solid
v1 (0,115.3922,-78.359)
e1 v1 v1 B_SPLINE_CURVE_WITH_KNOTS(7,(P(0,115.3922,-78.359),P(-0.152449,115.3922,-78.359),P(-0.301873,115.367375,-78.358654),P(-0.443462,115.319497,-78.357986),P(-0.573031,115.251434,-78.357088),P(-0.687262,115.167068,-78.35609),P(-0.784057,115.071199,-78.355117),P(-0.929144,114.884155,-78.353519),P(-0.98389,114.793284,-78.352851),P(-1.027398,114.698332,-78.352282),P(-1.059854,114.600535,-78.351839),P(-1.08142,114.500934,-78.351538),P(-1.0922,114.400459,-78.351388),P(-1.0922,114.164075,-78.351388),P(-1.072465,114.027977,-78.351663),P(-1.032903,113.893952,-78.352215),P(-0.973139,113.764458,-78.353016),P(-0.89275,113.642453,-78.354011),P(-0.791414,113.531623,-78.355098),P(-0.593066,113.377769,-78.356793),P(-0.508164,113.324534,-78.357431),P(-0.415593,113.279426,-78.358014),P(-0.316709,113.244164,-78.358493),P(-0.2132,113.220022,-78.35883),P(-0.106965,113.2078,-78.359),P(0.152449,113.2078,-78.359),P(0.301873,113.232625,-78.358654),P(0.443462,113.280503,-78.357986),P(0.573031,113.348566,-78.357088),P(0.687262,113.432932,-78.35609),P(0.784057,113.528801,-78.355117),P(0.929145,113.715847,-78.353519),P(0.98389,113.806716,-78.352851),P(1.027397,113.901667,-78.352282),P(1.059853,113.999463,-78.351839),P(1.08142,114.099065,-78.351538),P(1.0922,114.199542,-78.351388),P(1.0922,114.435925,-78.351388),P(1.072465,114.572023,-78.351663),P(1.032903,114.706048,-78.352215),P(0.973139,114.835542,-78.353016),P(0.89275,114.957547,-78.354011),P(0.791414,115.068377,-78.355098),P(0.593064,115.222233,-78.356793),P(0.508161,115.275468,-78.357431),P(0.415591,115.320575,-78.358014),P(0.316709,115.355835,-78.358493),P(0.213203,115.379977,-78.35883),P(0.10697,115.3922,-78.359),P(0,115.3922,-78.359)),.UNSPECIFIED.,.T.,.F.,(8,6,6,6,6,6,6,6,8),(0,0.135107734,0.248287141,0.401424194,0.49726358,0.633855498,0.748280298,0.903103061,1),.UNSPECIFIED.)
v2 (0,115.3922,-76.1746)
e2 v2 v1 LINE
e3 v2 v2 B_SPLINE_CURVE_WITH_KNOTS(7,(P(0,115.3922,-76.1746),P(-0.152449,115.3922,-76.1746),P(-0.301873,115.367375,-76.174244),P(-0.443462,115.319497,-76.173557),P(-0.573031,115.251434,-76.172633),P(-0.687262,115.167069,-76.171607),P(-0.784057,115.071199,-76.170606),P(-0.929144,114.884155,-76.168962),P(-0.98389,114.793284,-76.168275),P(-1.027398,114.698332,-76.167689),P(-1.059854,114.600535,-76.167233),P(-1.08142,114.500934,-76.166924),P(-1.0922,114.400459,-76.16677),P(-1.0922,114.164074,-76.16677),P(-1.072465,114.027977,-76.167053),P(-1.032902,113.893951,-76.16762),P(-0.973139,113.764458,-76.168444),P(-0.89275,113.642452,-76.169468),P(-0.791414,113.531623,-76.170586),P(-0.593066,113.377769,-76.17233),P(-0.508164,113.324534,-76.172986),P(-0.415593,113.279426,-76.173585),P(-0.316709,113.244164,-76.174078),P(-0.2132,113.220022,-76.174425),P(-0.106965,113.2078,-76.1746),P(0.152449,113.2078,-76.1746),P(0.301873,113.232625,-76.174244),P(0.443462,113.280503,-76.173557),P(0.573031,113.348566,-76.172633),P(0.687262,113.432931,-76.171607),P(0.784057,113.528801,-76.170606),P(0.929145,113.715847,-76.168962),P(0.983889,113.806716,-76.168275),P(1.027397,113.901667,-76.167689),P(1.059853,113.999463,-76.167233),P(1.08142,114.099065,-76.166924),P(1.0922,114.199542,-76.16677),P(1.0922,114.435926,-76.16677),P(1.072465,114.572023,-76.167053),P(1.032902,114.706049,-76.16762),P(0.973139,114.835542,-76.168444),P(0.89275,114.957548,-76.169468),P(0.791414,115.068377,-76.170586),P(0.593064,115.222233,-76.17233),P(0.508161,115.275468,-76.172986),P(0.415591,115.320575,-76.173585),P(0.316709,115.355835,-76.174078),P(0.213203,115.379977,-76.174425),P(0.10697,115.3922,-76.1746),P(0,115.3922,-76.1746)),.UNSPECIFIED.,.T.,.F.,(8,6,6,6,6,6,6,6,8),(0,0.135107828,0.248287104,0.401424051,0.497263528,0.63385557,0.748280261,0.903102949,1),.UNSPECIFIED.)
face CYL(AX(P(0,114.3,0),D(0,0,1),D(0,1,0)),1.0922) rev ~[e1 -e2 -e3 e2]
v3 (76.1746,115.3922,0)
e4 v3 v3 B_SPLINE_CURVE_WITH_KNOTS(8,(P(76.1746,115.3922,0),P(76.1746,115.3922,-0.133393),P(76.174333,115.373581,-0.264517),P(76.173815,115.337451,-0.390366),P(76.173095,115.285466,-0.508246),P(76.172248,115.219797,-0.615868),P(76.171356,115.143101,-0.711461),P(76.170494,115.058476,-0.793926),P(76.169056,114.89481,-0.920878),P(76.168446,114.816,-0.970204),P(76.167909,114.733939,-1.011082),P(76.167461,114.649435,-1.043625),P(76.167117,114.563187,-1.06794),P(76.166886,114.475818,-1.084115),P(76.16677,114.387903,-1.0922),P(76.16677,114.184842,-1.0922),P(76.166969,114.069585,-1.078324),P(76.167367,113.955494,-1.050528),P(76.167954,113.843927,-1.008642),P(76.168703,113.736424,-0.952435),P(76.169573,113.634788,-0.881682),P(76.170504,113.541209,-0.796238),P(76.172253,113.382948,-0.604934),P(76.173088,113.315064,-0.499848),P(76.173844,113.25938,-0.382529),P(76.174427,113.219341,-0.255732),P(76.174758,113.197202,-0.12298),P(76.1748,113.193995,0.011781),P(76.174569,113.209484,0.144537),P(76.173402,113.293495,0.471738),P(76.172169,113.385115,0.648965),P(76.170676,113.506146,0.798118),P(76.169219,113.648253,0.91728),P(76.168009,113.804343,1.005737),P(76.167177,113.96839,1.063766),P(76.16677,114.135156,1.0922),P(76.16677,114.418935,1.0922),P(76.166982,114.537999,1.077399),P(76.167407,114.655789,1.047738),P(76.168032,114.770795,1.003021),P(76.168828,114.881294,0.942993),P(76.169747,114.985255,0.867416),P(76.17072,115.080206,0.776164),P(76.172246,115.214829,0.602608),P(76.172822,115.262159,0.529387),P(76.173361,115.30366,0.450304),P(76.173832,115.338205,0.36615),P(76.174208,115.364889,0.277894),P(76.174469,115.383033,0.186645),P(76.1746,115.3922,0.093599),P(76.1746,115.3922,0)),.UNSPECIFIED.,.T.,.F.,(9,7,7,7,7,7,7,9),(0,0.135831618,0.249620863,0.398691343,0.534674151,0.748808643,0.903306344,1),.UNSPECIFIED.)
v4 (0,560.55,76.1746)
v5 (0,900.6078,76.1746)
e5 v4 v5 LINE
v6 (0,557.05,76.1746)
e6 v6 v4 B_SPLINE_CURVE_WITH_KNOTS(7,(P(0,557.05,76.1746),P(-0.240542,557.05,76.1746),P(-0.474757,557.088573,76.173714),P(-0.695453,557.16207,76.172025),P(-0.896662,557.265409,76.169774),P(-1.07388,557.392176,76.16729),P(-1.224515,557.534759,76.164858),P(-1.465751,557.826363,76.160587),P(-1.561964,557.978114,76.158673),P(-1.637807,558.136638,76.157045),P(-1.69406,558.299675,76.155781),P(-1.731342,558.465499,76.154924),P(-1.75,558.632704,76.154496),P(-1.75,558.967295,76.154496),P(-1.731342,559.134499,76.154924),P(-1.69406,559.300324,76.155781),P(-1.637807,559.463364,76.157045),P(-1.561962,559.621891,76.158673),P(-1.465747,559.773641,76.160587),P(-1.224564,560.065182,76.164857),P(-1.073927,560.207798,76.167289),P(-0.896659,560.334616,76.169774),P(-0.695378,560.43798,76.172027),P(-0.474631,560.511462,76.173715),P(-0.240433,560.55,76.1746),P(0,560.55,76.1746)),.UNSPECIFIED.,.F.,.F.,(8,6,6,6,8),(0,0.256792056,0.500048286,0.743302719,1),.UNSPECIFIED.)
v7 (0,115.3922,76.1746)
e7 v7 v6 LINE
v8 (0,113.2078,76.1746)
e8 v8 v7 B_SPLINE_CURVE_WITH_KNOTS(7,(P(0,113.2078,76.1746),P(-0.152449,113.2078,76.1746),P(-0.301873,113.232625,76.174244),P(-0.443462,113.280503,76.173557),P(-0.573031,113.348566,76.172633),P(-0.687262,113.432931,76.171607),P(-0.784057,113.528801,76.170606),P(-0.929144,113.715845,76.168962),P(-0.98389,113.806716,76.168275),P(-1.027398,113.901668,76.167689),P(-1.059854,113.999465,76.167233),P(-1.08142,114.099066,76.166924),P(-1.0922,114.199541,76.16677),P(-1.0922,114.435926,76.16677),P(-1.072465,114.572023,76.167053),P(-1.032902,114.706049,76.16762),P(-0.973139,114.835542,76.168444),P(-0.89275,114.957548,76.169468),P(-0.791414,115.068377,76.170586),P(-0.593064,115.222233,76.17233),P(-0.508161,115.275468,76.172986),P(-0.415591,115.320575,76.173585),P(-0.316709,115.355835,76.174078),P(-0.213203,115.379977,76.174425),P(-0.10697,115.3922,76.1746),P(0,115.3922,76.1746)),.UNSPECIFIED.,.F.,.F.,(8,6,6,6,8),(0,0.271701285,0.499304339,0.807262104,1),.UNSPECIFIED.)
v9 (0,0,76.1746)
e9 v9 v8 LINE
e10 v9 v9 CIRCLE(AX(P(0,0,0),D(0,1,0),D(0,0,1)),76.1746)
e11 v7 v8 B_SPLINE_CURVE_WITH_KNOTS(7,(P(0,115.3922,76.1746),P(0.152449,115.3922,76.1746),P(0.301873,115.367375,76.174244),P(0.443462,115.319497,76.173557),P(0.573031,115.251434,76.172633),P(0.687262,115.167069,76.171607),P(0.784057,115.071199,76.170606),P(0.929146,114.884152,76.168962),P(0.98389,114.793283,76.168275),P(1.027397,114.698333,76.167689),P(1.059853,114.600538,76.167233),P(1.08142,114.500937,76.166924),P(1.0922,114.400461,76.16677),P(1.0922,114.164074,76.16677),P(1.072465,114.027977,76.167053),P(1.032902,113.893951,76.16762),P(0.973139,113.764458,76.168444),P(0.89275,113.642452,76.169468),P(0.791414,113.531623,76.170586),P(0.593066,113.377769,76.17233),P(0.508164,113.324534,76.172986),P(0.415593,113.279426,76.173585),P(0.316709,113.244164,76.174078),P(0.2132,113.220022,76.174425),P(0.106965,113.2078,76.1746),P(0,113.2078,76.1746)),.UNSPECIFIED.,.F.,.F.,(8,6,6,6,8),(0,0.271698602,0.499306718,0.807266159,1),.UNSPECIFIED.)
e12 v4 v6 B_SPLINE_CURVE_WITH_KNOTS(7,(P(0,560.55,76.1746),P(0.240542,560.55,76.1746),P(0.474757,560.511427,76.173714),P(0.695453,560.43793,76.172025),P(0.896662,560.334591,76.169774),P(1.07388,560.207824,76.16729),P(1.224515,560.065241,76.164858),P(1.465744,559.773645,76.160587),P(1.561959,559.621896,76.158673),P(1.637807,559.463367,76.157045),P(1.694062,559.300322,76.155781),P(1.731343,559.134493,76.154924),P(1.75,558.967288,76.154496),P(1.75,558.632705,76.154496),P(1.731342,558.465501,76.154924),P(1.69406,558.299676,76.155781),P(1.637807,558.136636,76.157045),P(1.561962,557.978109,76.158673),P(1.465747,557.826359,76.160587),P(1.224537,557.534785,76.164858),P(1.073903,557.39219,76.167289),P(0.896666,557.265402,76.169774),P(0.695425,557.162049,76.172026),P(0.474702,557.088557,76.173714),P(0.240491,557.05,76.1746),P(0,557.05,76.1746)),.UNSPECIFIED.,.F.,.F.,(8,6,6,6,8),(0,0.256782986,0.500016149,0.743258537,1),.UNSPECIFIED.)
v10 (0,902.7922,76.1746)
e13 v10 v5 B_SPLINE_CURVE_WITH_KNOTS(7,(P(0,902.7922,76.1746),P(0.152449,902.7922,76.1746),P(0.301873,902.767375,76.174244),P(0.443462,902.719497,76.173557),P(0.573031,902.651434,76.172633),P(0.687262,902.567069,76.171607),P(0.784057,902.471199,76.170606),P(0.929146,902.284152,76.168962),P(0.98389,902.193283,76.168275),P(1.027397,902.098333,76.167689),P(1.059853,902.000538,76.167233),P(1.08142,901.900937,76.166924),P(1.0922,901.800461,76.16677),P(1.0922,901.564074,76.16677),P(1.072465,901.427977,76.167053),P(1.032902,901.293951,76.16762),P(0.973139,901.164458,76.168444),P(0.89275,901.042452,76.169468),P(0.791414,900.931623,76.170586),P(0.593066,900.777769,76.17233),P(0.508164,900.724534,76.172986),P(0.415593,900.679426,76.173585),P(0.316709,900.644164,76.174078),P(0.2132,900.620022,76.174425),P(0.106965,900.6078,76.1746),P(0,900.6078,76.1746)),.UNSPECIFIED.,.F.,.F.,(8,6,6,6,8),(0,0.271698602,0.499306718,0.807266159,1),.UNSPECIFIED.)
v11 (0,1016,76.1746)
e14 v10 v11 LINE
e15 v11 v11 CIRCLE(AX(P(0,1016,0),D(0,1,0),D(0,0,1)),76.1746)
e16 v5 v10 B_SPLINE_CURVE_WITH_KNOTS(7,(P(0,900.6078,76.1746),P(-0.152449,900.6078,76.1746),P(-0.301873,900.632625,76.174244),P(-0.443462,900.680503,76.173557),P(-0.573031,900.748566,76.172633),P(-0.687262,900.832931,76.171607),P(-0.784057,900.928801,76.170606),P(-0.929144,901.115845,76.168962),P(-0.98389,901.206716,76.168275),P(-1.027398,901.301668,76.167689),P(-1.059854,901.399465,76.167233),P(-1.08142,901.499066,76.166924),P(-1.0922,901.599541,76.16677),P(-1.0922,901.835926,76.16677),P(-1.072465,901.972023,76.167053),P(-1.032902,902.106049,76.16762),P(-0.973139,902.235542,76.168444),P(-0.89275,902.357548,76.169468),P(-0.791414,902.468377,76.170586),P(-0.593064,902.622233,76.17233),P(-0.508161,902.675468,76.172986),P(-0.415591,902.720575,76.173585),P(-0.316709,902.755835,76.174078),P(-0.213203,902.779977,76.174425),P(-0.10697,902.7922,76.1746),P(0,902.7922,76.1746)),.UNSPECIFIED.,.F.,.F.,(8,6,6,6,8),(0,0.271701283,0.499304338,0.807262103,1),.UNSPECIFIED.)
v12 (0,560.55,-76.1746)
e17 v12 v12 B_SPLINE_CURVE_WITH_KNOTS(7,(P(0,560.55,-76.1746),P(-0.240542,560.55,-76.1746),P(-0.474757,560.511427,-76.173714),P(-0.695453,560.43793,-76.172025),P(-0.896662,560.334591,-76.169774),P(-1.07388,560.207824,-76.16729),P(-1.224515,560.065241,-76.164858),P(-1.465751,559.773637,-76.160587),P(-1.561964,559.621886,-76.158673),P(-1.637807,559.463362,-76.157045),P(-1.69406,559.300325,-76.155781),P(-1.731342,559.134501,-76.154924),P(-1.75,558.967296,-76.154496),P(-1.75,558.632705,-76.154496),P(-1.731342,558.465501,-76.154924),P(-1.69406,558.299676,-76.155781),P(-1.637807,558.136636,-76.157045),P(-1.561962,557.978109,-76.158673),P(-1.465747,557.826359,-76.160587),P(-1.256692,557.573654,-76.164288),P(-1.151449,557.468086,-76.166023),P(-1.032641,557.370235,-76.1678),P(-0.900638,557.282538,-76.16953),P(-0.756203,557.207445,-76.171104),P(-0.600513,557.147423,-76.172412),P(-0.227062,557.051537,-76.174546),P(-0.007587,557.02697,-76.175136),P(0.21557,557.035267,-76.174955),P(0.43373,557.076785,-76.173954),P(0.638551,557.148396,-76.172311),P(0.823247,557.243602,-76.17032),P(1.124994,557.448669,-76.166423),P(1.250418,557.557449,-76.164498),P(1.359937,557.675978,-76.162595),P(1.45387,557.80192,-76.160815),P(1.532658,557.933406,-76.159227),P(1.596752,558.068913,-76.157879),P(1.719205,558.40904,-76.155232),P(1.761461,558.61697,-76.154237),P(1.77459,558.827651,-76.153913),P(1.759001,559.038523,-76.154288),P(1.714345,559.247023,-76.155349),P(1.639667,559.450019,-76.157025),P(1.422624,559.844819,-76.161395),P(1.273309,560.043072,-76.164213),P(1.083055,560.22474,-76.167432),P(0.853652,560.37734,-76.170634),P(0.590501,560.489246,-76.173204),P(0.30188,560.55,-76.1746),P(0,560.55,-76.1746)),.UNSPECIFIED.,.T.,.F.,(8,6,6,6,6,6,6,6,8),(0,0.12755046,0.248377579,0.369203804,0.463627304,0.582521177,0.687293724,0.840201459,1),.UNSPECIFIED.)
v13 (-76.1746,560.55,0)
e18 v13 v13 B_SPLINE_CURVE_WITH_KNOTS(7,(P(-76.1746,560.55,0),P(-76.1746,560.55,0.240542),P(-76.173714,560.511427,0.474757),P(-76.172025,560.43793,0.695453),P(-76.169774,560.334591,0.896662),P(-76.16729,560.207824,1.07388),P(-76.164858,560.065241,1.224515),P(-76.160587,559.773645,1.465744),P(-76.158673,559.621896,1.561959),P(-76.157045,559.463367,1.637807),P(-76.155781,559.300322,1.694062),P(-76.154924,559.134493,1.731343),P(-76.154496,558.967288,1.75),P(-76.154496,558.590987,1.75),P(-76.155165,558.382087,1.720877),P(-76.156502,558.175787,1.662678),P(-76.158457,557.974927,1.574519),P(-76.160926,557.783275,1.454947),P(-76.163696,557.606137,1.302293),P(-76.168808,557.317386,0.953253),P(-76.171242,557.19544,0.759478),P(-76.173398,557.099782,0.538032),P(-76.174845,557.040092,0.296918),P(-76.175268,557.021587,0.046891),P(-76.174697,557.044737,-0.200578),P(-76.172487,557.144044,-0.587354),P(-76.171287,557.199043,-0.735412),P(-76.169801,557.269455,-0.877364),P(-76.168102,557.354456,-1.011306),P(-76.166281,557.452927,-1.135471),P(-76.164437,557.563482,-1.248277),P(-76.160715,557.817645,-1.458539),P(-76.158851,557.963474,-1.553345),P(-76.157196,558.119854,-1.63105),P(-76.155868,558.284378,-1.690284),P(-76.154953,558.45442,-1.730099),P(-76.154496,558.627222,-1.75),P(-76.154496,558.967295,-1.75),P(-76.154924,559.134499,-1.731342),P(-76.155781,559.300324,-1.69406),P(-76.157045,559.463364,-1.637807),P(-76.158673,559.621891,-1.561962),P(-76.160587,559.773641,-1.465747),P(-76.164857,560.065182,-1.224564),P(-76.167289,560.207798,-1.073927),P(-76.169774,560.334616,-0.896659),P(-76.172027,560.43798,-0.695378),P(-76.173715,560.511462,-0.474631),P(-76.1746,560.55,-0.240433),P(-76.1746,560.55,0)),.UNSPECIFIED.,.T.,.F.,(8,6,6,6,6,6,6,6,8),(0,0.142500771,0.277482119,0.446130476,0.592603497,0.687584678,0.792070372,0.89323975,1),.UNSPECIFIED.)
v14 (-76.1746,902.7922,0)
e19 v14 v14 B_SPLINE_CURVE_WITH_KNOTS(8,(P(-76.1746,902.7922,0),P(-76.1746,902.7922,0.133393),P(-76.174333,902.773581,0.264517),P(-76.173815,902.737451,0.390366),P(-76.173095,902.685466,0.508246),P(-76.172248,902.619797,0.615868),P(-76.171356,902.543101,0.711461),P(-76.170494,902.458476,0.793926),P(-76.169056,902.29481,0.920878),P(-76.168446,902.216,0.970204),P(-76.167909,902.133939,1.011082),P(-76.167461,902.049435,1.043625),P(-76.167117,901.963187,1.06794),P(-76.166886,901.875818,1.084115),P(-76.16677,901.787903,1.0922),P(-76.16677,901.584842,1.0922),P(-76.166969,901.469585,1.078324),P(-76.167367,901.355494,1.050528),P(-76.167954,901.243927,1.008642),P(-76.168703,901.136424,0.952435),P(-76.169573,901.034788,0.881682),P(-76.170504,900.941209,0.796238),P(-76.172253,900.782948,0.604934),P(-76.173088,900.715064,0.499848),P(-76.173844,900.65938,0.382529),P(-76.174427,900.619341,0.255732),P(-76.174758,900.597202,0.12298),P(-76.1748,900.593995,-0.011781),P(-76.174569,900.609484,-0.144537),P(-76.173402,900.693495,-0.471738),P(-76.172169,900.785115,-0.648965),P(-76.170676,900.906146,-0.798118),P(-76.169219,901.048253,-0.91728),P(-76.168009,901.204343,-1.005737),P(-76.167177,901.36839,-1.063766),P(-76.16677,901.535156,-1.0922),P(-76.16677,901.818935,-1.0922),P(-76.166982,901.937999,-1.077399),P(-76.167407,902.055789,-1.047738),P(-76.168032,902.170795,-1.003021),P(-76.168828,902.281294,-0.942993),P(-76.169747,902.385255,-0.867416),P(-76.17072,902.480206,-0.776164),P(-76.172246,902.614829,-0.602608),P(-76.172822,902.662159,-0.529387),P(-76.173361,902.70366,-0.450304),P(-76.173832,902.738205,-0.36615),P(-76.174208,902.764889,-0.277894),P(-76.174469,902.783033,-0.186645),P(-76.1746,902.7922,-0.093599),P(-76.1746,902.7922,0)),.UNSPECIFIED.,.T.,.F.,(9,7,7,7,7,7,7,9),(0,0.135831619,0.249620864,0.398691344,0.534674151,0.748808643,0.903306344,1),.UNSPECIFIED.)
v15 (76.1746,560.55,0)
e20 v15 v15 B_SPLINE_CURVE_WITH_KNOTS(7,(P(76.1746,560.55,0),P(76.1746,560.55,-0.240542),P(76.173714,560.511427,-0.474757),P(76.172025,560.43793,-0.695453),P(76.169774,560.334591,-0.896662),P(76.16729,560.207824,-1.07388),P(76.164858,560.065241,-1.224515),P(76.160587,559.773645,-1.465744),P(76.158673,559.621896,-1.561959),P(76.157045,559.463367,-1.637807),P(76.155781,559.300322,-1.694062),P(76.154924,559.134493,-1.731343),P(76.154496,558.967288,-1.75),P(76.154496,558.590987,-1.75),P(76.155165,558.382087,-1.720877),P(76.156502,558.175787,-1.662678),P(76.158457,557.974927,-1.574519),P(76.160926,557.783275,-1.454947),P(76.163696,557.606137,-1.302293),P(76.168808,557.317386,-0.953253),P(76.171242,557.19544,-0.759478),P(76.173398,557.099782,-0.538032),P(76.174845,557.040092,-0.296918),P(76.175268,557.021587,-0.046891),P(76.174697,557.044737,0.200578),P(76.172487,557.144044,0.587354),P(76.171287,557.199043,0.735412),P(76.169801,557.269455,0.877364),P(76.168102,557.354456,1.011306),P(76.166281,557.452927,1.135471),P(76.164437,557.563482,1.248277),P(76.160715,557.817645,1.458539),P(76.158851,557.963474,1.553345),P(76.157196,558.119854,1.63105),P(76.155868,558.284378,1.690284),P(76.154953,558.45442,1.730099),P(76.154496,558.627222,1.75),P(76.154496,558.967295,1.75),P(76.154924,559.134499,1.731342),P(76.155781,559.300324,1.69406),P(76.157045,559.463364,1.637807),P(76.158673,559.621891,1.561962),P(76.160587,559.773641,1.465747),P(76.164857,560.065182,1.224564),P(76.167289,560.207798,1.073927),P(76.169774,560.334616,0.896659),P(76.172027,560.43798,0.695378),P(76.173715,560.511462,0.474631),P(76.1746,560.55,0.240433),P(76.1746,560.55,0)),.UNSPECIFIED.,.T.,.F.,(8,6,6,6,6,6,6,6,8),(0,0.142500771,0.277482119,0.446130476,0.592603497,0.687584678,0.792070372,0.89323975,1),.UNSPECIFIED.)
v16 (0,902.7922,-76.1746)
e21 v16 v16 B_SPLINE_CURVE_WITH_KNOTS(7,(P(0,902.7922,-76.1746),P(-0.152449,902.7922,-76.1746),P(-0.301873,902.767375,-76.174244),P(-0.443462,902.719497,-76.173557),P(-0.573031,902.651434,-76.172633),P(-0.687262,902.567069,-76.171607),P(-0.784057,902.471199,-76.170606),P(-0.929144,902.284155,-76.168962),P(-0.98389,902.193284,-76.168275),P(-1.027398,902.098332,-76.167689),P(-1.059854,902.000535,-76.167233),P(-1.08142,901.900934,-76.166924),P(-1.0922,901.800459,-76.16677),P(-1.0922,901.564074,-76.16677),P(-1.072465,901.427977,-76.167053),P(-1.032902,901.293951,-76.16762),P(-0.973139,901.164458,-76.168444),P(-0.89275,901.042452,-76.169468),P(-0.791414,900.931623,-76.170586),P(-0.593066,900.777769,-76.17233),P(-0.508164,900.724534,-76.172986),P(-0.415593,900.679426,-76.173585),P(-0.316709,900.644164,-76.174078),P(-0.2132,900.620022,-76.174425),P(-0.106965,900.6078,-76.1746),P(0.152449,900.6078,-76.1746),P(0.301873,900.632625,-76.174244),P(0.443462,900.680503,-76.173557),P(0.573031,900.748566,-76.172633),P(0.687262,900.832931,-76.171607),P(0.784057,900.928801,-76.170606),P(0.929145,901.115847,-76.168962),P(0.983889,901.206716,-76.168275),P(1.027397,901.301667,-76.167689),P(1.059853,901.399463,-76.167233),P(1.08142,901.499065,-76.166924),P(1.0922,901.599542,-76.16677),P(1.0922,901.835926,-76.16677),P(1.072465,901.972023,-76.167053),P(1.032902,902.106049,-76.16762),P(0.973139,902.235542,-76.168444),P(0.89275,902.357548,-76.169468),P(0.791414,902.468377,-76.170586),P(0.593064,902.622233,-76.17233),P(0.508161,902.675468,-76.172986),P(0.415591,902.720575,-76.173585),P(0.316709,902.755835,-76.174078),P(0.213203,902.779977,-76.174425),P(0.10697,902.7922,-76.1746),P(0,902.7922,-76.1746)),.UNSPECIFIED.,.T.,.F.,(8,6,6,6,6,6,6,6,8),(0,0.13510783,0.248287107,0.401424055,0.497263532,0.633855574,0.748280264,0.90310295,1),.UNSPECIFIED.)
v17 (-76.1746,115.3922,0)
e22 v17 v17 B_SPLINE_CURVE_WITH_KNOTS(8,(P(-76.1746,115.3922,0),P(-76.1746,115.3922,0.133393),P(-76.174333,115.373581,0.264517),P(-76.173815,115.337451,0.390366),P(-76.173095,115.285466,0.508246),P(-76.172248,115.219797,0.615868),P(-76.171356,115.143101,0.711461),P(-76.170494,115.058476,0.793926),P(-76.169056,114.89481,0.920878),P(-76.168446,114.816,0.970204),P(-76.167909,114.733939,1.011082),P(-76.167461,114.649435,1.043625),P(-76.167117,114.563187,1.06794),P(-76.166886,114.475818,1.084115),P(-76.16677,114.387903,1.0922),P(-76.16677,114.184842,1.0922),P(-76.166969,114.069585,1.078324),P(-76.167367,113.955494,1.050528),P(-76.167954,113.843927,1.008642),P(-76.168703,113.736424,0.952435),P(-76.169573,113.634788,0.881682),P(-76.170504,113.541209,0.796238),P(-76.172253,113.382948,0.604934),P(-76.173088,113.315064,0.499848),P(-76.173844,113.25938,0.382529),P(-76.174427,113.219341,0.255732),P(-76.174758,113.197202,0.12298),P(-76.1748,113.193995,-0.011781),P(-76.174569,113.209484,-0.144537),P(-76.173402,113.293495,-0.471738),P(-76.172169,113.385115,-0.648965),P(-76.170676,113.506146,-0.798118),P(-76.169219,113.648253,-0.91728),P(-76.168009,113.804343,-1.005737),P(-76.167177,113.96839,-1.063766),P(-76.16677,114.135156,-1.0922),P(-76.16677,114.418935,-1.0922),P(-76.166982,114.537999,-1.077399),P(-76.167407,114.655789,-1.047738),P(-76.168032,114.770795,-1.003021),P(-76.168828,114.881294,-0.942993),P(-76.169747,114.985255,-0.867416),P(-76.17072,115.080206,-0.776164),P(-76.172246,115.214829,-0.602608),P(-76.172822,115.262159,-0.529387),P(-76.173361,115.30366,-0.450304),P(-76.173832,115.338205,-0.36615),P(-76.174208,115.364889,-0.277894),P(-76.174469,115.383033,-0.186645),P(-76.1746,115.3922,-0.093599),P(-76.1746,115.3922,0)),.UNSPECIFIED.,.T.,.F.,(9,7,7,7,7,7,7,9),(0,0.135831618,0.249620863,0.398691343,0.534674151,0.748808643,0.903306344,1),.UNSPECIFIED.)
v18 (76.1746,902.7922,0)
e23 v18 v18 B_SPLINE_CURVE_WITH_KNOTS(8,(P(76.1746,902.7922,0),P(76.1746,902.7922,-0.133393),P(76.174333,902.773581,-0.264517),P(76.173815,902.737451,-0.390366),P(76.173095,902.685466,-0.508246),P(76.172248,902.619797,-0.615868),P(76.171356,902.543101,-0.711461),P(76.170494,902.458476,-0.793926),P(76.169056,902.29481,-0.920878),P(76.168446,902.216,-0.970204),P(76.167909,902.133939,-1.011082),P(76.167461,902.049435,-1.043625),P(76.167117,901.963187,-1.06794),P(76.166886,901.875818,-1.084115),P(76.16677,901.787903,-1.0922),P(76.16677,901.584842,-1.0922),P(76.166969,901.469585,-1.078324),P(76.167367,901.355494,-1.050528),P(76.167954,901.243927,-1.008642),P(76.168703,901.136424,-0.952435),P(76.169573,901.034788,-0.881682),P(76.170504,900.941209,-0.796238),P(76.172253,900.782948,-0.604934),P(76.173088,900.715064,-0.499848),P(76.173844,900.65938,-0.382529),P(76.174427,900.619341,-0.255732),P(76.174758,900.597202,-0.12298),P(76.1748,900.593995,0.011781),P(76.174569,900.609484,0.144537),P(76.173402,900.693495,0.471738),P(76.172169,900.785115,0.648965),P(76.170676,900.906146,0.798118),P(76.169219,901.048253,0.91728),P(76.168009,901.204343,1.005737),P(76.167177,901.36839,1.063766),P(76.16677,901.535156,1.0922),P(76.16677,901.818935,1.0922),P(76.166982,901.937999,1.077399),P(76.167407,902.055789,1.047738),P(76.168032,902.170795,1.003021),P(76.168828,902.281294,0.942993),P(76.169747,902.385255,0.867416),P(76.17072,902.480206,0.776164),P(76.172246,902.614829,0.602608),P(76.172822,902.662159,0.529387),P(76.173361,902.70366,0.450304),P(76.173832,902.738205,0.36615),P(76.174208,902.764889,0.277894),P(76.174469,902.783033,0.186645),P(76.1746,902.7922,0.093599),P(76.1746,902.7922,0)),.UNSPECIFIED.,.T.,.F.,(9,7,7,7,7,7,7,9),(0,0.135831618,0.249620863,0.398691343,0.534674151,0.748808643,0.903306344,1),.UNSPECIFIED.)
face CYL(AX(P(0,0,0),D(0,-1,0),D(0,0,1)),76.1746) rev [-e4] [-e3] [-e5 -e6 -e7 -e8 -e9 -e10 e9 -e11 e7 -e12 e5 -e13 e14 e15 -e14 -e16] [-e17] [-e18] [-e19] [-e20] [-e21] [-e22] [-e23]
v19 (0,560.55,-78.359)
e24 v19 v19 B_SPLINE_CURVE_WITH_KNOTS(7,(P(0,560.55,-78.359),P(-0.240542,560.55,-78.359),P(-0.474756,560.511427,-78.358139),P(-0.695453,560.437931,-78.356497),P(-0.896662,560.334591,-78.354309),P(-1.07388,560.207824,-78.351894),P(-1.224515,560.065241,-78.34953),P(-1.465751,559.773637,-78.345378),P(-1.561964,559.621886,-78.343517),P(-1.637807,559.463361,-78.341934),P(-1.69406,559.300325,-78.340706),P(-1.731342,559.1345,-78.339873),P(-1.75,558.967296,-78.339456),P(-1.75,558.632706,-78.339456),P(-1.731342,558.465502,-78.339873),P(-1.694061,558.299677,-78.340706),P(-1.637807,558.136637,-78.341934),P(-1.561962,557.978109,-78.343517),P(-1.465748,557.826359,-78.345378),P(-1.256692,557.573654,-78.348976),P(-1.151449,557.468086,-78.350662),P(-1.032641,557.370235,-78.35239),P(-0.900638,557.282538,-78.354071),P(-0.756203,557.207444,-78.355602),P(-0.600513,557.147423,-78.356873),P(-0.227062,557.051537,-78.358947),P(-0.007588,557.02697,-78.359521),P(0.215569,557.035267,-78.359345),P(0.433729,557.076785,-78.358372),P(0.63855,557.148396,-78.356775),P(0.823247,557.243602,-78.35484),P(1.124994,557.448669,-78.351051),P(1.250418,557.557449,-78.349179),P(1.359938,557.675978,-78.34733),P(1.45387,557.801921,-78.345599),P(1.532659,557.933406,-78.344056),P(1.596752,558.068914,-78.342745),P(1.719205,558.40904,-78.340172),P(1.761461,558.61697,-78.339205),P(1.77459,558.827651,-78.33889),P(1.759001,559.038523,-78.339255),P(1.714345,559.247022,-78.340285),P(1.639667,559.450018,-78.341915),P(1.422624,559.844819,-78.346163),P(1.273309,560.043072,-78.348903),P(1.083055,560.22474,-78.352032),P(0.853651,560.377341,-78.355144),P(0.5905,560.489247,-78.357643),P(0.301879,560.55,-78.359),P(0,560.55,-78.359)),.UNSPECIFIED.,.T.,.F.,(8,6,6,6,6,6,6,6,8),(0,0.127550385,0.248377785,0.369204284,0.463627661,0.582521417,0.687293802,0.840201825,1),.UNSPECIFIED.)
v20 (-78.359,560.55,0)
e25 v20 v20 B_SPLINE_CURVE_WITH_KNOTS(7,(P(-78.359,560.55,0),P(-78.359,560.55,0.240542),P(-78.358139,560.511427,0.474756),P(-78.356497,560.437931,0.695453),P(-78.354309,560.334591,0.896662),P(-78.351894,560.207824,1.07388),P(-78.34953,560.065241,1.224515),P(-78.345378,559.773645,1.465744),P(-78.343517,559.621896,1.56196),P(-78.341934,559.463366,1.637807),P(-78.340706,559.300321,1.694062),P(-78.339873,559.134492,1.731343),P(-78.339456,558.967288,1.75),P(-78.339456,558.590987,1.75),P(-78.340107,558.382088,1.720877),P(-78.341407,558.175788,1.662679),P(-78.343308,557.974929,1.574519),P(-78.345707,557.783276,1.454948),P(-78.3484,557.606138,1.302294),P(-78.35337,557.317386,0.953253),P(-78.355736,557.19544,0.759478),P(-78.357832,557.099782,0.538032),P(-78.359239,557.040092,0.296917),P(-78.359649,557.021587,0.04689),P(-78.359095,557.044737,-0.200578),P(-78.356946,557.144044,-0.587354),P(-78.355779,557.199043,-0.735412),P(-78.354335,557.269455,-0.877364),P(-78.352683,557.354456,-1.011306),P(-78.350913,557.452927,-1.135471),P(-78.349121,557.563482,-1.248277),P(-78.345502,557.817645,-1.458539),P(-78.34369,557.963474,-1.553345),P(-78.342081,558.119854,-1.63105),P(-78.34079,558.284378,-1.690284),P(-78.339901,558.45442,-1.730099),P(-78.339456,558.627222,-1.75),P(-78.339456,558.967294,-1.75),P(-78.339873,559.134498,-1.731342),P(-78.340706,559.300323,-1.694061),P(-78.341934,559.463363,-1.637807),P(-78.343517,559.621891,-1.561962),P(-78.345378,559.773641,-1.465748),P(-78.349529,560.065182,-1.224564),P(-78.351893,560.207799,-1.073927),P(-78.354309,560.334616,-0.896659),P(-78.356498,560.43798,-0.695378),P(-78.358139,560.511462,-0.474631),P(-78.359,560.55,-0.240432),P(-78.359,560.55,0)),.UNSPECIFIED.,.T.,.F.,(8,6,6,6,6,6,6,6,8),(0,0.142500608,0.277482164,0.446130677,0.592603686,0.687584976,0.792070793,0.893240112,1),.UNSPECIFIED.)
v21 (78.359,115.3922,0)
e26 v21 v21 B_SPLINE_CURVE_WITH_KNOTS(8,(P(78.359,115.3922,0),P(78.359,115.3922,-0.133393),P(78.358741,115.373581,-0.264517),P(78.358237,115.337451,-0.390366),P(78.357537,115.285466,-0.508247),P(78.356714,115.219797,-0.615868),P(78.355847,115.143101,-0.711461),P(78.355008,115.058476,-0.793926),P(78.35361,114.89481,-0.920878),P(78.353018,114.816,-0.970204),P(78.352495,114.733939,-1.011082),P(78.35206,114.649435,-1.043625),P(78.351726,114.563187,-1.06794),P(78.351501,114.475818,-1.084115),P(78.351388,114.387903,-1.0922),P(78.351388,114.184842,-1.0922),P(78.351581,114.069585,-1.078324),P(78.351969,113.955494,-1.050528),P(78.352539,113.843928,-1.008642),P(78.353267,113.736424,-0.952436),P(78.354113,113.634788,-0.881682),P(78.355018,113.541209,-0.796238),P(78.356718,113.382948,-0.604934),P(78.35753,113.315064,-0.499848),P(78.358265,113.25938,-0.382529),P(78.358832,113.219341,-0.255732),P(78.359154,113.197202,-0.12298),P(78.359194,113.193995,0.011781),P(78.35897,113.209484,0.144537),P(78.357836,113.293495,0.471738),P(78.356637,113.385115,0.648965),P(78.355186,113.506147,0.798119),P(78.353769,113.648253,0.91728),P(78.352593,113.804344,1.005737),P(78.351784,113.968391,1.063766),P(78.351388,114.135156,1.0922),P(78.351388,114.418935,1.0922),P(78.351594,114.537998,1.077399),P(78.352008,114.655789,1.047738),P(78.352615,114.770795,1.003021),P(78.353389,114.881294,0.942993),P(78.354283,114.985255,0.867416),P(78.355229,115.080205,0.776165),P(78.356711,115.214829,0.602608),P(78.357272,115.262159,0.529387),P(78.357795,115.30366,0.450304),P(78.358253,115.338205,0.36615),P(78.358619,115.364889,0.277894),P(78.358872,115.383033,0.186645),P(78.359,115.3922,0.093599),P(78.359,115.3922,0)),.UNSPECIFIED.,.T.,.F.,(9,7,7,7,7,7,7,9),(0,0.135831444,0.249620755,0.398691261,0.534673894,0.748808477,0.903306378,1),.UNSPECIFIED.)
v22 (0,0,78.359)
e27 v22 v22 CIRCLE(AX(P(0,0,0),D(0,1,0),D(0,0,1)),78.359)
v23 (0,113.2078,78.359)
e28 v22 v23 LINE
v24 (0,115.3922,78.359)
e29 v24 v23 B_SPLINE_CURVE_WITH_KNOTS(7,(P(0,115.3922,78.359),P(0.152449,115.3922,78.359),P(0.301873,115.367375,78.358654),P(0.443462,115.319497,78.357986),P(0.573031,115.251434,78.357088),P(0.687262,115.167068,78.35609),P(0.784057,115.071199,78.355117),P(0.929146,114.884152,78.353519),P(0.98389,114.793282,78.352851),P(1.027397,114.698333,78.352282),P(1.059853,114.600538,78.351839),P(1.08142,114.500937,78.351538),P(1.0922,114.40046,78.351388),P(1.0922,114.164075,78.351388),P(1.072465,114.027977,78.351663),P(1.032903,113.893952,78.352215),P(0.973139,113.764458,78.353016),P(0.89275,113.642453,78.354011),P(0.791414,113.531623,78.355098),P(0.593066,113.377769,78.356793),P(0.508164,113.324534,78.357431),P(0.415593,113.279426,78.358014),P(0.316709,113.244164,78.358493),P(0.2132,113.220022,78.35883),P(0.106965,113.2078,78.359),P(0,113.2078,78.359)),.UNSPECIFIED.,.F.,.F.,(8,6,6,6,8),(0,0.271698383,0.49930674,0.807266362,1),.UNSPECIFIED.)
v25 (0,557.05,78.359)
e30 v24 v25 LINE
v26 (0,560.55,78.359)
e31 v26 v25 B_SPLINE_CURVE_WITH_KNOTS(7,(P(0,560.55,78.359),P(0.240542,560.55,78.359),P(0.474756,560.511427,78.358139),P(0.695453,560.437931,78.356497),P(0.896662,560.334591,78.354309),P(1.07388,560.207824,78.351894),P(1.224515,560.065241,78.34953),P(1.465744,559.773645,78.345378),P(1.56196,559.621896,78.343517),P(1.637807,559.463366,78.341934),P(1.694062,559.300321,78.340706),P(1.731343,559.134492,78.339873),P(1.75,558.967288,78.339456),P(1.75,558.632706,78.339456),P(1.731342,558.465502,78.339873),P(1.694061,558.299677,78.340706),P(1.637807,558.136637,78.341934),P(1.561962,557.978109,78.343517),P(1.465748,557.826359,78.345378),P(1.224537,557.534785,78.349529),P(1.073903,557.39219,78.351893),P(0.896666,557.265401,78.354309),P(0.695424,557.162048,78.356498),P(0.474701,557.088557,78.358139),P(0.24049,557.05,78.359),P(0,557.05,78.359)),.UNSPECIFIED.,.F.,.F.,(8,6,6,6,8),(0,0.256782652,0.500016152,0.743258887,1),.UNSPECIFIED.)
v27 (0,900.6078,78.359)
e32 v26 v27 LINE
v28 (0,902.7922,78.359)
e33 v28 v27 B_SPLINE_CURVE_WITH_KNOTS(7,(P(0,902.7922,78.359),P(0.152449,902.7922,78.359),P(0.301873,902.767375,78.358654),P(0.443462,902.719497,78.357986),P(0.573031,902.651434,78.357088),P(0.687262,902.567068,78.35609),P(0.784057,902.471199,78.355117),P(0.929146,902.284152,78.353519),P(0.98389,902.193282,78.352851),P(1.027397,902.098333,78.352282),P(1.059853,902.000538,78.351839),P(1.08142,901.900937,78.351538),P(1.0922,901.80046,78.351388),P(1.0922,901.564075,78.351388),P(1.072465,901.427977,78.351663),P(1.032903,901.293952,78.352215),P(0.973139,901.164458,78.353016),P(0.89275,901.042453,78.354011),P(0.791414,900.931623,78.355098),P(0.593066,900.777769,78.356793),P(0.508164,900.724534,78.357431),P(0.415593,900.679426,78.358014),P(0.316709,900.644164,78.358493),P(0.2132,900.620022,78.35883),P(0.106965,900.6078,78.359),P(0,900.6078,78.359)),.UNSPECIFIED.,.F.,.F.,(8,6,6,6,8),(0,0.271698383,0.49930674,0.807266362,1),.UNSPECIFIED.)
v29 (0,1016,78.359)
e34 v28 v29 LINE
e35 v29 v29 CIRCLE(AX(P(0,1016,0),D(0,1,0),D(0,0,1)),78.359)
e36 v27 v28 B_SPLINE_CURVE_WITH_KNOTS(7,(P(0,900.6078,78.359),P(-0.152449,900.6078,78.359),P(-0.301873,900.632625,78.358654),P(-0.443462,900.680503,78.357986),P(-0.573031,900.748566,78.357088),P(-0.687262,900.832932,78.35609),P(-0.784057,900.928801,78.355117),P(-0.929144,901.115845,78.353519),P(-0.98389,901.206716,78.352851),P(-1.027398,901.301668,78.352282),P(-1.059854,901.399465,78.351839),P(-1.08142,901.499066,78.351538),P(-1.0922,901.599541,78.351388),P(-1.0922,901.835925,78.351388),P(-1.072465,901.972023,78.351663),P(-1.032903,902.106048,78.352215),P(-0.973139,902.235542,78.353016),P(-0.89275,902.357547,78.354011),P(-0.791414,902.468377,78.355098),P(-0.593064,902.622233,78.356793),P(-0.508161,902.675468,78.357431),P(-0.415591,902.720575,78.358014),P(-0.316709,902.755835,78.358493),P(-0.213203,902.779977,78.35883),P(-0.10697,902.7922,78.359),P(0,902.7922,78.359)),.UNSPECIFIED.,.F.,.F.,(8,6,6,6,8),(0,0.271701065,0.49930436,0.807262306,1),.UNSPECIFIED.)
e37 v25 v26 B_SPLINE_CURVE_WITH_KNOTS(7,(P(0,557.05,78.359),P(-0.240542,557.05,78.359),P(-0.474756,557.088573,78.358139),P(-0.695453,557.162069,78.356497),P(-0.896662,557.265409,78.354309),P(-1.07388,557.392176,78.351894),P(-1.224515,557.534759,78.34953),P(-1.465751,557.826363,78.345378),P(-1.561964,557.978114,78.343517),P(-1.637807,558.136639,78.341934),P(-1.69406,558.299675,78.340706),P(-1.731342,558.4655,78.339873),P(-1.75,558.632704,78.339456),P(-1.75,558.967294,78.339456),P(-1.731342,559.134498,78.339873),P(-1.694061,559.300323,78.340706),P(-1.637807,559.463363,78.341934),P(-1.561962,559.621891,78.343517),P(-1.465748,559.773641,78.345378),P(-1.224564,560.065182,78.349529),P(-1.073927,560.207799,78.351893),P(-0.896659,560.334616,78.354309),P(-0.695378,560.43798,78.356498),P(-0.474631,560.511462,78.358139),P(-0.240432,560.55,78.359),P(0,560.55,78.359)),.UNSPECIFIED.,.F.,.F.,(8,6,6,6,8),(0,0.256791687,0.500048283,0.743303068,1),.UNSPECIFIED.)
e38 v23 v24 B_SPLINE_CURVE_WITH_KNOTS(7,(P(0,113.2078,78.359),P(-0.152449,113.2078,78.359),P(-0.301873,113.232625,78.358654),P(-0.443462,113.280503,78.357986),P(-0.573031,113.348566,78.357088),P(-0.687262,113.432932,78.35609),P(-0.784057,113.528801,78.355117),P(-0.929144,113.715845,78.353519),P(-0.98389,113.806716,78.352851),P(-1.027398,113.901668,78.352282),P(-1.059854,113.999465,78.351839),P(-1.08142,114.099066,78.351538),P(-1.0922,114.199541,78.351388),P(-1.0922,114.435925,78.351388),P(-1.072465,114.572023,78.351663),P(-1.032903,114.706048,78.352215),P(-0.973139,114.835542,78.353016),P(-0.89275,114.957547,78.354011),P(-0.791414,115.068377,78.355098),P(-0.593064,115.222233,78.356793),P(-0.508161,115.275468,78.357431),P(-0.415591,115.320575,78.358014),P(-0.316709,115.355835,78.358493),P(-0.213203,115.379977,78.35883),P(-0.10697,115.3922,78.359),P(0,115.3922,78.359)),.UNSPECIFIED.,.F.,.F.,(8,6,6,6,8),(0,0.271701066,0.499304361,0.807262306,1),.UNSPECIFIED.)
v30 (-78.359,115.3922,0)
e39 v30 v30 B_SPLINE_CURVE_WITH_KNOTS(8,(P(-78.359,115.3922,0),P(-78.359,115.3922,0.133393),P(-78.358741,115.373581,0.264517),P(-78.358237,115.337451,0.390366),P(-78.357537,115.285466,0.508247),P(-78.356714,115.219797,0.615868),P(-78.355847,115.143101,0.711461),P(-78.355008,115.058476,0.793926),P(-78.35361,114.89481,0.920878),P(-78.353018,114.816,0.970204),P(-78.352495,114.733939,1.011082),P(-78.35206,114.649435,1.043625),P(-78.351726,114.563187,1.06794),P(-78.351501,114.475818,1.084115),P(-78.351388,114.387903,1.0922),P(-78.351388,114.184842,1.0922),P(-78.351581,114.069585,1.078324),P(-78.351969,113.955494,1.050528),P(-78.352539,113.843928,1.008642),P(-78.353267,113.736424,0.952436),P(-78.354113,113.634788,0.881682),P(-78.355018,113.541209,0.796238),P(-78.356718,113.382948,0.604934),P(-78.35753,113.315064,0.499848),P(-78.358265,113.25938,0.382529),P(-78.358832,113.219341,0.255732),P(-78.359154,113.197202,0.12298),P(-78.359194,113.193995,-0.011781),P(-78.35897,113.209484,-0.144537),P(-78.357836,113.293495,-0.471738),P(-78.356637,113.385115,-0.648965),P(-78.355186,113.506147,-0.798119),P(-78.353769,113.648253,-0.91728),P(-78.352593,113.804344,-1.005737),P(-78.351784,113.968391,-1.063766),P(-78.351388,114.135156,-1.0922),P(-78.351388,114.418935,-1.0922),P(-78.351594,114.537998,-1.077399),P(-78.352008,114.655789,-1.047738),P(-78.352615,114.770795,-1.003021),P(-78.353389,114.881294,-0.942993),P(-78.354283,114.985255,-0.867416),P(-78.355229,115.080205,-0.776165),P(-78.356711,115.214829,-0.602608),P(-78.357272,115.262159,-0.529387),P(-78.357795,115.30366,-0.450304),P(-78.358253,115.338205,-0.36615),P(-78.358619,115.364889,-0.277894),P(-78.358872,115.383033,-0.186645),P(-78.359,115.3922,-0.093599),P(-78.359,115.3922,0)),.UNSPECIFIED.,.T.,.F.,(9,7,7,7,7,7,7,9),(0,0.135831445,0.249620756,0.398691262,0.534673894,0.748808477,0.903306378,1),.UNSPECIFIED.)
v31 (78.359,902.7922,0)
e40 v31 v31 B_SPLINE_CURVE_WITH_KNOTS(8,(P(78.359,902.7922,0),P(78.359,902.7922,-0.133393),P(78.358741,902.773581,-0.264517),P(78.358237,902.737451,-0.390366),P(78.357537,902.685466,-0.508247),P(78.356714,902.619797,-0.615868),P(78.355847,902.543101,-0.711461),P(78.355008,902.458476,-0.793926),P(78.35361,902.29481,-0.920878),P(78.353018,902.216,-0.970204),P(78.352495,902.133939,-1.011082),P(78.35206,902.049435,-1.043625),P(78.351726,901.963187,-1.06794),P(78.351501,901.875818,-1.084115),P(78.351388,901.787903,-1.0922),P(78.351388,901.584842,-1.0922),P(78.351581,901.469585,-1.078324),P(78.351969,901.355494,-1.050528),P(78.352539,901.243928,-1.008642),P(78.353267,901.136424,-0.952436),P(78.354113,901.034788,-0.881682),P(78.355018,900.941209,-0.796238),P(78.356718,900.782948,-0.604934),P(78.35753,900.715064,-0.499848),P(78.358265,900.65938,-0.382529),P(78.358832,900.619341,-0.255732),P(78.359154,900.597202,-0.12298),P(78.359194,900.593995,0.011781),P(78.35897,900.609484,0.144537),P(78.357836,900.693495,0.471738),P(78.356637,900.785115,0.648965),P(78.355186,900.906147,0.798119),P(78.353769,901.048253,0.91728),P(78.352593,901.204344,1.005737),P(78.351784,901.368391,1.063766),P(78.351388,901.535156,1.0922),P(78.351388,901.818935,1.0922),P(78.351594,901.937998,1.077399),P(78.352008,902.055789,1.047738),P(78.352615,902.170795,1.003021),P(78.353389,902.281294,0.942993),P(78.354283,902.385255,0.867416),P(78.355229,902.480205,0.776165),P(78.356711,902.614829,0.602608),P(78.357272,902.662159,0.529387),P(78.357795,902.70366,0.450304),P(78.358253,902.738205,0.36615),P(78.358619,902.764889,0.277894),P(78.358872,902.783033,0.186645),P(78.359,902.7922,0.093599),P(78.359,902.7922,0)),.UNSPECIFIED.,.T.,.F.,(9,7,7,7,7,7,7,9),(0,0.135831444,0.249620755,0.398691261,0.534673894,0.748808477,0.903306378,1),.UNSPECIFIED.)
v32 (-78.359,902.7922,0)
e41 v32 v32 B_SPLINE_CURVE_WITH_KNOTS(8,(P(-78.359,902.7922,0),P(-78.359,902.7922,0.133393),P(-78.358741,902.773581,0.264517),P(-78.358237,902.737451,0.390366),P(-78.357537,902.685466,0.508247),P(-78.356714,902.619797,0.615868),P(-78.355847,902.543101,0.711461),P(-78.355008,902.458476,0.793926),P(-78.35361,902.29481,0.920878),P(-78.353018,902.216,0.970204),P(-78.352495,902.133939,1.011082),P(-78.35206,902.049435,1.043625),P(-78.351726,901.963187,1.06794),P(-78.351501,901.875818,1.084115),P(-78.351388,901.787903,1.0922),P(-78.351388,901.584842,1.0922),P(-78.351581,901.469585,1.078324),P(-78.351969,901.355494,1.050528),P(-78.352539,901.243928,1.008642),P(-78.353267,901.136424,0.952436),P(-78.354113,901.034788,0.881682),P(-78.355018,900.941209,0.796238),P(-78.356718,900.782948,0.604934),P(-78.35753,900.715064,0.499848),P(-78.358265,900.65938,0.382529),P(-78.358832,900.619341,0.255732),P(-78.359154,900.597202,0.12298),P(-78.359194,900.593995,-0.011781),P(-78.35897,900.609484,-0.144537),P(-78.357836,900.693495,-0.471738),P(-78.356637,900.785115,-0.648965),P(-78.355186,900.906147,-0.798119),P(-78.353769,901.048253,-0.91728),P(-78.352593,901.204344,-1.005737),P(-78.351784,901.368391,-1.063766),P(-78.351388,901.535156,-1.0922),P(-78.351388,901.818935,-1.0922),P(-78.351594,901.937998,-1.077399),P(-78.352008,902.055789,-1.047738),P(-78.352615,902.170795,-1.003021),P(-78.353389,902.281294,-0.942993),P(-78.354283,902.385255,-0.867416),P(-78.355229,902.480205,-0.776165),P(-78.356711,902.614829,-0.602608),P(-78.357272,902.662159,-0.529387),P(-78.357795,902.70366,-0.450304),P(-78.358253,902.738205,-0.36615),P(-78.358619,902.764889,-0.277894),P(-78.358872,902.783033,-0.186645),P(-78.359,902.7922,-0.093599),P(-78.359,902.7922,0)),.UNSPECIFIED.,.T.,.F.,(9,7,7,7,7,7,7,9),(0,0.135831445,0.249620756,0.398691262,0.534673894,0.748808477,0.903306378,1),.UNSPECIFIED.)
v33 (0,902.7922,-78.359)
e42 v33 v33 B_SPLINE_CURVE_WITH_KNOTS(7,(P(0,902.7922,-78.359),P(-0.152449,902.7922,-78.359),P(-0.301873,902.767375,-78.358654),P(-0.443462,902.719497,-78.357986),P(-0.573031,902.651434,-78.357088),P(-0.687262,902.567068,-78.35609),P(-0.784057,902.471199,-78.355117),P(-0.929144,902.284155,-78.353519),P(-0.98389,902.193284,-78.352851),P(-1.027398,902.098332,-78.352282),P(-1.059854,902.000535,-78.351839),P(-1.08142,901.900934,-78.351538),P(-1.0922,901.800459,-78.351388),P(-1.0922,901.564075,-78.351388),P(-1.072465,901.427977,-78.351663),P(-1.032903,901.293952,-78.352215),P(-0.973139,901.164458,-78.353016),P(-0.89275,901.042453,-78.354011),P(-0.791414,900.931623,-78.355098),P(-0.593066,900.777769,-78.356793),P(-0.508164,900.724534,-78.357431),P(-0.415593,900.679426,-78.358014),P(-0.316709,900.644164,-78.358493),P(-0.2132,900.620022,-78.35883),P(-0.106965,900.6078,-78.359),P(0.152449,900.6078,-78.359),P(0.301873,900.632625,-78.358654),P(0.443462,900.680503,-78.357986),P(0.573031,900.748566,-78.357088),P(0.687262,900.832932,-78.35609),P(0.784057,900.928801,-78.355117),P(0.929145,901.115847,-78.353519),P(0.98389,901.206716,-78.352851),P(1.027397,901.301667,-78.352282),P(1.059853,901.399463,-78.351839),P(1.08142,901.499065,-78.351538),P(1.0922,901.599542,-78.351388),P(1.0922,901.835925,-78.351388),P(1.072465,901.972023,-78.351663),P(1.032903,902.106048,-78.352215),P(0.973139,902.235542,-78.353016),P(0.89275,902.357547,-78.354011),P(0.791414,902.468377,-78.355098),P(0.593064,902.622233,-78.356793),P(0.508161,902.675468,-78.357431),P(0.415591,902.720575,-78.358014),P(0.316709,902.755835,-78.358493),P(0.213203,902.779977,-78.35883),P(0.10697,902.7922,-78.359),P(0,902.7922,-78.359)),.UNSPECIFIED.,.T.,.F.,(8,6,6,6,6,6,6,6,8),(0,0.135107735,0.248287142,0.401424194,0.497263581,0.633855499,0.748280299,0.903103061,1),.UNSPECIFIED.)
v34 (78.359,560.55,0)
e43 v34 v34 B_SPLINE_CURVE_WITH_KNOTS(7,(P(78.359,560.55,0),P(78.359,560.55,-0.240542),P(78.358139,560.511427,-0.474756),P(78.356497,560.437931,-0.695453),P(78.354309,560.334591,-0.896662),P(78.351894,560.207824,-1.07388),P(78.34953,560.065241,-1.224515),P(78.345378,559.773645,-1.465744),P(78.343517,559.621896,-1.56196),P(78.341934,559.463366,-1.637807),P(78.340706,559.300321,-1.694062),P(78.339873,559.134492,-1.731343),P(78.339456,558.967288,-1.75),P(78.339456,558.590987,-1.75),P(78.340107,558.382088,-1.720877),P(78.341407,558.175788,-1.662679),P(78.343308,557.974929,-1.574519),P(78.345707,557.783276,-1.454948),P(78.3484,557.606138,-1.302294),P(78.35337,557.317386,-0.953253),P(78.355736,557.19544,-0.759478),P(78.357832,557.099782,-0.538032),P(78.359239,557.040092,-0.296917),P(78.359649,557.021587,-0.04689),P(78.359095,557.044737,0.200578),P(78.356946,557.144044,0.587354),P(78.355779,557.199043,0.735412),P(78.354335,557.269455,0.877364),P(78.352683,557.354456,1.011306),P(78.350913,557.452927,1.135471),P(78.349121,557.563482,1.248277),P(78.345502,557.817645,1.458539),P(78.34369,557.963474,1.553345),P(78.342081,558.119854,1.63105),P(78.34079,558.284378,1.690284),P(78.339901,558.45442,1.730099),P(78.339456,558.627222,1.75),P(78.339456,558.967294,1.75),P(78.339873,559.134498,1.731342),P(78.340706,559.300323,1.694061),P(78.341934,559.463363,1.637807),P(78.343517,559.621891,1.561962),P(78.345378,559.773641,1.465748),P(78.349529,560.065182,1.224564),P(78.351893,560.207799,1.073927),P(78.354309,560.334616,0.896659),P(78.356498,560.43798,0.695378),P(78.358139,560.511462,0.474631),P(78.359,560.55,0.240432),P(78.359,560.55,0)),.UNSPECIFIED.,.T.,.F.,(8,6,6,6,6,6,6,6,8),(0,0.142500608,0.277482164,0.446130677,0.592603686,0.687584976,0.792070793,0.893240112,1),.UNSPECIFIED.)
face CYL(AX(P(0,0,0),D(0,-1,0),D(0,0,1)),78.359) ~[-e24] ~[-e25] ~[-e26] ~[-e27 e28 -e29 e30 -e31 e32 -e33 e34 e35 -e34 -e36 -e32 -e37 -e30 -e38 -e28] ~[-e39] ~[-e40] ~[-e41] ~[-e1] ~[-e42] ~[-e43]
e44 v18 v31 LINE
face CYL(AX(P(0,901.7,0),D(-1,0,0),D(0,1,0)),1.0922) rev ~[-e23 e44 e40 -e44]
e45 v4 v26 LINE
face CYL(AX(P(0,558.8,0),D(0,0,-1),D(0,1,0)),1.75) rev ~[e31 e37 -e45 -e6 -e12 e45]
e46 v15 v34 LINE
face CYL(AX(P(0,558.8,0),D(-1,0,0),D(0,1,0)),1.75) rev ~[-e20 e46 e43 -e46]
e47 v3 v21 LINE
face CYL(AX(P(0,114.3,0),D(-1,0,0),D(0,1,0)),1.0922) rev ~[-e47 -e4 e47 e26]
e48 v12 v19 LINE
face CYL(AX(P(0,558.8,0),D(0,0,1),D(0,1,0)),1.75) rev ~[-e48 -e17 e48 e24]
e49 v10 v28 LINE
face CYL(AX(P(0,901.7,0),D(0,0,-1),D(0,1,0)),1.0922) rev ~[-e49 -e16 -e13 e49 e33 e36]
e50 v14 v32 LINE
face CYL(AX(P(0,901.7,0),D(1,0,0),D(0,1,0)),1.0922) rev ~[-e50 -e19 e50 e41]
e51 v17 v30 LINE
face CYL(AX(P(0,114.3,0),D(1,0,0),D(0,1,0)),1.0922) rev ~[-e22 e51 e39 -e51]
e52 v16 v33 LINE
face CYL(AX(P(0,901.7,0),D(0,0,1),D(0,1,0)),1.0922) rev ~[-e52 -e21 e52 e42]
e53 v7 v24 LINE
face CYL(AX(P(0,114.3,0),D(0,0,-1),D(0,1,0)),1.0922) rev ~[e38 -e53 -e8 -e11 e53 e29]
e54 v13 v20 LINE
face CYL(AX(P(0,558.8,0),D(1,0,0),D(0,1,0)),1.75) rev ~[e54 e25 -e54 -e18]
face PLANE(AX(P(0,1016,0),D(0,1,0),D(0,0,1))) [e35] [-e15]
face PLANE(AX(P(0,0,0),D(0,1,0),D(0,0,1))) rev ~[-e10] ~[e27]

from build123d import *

# Parameters (mm, degrees)
SKETCH1_R           = 78.359
SKETCH1_R_2         = 76.1746
BOSS_EXTRUDE1_DEPTH = 1016
SKETCH3_R           = 1.750000056
SKETCH3_R_2         = 1.0922
CUT_EXTRUDE1_DEPTH  = 1023.025570014
CIRPATTERN1_COUNT   = 4


with BuildPart() as part:
    # Sketch1 → Boss-Extrude1 (new body)
    with BuildSketch(Plane(origin=(0, 0, 0), x_dir=(1, 0, 0), z_dir=(0, 1, 0))):
        with Locations(Location((0, 0, 0), (0, 0, 270))):
            Circle(SKETCH1_R)
        with Locations(Location((0, 0, 0), (0, 0, 270))):
            Circle(SKETCH1_R_2, mode=Mode.SUBTRACT)
    extrude(amount=BOSS_EXTRUDE1_DEPTH)

    # Sketch3 → Cut-Extrude1 (cut, through all)
    with BuildSketch(Plane.XY):
        with Locations(Location((0, 558.8, 0), (0, 0, 90))):
            Circle(SKETCH3_R)
        with Locations(Location((0, 114.3, 0), (0, 0, 90))):
            Circle(SKETCH3_R_2)
        with Locations(Location((0, 901.7, 0), (0, 0, 90))):
            Circle(SKETCH3_R_2)
    cut_extrude1 = extrude(amount=-CUT_EXTRUDE1_DEPTH, mode=Mode.SUBTRACT)

    # CirPattern1: Cut-Extrude1 ×4 about axis
    cirpattern1_axis = Axis((0, 1016, 0), (0, -1, 0))
    for i in range(1, CIRPATTERN1_COUNT):
        add(cut_extrude1.rotate(cirpattern1_axis, i * 360 / CIRPATTERN1_COUNT), mode=Mode.SUBTRACT)


solid = part.part
